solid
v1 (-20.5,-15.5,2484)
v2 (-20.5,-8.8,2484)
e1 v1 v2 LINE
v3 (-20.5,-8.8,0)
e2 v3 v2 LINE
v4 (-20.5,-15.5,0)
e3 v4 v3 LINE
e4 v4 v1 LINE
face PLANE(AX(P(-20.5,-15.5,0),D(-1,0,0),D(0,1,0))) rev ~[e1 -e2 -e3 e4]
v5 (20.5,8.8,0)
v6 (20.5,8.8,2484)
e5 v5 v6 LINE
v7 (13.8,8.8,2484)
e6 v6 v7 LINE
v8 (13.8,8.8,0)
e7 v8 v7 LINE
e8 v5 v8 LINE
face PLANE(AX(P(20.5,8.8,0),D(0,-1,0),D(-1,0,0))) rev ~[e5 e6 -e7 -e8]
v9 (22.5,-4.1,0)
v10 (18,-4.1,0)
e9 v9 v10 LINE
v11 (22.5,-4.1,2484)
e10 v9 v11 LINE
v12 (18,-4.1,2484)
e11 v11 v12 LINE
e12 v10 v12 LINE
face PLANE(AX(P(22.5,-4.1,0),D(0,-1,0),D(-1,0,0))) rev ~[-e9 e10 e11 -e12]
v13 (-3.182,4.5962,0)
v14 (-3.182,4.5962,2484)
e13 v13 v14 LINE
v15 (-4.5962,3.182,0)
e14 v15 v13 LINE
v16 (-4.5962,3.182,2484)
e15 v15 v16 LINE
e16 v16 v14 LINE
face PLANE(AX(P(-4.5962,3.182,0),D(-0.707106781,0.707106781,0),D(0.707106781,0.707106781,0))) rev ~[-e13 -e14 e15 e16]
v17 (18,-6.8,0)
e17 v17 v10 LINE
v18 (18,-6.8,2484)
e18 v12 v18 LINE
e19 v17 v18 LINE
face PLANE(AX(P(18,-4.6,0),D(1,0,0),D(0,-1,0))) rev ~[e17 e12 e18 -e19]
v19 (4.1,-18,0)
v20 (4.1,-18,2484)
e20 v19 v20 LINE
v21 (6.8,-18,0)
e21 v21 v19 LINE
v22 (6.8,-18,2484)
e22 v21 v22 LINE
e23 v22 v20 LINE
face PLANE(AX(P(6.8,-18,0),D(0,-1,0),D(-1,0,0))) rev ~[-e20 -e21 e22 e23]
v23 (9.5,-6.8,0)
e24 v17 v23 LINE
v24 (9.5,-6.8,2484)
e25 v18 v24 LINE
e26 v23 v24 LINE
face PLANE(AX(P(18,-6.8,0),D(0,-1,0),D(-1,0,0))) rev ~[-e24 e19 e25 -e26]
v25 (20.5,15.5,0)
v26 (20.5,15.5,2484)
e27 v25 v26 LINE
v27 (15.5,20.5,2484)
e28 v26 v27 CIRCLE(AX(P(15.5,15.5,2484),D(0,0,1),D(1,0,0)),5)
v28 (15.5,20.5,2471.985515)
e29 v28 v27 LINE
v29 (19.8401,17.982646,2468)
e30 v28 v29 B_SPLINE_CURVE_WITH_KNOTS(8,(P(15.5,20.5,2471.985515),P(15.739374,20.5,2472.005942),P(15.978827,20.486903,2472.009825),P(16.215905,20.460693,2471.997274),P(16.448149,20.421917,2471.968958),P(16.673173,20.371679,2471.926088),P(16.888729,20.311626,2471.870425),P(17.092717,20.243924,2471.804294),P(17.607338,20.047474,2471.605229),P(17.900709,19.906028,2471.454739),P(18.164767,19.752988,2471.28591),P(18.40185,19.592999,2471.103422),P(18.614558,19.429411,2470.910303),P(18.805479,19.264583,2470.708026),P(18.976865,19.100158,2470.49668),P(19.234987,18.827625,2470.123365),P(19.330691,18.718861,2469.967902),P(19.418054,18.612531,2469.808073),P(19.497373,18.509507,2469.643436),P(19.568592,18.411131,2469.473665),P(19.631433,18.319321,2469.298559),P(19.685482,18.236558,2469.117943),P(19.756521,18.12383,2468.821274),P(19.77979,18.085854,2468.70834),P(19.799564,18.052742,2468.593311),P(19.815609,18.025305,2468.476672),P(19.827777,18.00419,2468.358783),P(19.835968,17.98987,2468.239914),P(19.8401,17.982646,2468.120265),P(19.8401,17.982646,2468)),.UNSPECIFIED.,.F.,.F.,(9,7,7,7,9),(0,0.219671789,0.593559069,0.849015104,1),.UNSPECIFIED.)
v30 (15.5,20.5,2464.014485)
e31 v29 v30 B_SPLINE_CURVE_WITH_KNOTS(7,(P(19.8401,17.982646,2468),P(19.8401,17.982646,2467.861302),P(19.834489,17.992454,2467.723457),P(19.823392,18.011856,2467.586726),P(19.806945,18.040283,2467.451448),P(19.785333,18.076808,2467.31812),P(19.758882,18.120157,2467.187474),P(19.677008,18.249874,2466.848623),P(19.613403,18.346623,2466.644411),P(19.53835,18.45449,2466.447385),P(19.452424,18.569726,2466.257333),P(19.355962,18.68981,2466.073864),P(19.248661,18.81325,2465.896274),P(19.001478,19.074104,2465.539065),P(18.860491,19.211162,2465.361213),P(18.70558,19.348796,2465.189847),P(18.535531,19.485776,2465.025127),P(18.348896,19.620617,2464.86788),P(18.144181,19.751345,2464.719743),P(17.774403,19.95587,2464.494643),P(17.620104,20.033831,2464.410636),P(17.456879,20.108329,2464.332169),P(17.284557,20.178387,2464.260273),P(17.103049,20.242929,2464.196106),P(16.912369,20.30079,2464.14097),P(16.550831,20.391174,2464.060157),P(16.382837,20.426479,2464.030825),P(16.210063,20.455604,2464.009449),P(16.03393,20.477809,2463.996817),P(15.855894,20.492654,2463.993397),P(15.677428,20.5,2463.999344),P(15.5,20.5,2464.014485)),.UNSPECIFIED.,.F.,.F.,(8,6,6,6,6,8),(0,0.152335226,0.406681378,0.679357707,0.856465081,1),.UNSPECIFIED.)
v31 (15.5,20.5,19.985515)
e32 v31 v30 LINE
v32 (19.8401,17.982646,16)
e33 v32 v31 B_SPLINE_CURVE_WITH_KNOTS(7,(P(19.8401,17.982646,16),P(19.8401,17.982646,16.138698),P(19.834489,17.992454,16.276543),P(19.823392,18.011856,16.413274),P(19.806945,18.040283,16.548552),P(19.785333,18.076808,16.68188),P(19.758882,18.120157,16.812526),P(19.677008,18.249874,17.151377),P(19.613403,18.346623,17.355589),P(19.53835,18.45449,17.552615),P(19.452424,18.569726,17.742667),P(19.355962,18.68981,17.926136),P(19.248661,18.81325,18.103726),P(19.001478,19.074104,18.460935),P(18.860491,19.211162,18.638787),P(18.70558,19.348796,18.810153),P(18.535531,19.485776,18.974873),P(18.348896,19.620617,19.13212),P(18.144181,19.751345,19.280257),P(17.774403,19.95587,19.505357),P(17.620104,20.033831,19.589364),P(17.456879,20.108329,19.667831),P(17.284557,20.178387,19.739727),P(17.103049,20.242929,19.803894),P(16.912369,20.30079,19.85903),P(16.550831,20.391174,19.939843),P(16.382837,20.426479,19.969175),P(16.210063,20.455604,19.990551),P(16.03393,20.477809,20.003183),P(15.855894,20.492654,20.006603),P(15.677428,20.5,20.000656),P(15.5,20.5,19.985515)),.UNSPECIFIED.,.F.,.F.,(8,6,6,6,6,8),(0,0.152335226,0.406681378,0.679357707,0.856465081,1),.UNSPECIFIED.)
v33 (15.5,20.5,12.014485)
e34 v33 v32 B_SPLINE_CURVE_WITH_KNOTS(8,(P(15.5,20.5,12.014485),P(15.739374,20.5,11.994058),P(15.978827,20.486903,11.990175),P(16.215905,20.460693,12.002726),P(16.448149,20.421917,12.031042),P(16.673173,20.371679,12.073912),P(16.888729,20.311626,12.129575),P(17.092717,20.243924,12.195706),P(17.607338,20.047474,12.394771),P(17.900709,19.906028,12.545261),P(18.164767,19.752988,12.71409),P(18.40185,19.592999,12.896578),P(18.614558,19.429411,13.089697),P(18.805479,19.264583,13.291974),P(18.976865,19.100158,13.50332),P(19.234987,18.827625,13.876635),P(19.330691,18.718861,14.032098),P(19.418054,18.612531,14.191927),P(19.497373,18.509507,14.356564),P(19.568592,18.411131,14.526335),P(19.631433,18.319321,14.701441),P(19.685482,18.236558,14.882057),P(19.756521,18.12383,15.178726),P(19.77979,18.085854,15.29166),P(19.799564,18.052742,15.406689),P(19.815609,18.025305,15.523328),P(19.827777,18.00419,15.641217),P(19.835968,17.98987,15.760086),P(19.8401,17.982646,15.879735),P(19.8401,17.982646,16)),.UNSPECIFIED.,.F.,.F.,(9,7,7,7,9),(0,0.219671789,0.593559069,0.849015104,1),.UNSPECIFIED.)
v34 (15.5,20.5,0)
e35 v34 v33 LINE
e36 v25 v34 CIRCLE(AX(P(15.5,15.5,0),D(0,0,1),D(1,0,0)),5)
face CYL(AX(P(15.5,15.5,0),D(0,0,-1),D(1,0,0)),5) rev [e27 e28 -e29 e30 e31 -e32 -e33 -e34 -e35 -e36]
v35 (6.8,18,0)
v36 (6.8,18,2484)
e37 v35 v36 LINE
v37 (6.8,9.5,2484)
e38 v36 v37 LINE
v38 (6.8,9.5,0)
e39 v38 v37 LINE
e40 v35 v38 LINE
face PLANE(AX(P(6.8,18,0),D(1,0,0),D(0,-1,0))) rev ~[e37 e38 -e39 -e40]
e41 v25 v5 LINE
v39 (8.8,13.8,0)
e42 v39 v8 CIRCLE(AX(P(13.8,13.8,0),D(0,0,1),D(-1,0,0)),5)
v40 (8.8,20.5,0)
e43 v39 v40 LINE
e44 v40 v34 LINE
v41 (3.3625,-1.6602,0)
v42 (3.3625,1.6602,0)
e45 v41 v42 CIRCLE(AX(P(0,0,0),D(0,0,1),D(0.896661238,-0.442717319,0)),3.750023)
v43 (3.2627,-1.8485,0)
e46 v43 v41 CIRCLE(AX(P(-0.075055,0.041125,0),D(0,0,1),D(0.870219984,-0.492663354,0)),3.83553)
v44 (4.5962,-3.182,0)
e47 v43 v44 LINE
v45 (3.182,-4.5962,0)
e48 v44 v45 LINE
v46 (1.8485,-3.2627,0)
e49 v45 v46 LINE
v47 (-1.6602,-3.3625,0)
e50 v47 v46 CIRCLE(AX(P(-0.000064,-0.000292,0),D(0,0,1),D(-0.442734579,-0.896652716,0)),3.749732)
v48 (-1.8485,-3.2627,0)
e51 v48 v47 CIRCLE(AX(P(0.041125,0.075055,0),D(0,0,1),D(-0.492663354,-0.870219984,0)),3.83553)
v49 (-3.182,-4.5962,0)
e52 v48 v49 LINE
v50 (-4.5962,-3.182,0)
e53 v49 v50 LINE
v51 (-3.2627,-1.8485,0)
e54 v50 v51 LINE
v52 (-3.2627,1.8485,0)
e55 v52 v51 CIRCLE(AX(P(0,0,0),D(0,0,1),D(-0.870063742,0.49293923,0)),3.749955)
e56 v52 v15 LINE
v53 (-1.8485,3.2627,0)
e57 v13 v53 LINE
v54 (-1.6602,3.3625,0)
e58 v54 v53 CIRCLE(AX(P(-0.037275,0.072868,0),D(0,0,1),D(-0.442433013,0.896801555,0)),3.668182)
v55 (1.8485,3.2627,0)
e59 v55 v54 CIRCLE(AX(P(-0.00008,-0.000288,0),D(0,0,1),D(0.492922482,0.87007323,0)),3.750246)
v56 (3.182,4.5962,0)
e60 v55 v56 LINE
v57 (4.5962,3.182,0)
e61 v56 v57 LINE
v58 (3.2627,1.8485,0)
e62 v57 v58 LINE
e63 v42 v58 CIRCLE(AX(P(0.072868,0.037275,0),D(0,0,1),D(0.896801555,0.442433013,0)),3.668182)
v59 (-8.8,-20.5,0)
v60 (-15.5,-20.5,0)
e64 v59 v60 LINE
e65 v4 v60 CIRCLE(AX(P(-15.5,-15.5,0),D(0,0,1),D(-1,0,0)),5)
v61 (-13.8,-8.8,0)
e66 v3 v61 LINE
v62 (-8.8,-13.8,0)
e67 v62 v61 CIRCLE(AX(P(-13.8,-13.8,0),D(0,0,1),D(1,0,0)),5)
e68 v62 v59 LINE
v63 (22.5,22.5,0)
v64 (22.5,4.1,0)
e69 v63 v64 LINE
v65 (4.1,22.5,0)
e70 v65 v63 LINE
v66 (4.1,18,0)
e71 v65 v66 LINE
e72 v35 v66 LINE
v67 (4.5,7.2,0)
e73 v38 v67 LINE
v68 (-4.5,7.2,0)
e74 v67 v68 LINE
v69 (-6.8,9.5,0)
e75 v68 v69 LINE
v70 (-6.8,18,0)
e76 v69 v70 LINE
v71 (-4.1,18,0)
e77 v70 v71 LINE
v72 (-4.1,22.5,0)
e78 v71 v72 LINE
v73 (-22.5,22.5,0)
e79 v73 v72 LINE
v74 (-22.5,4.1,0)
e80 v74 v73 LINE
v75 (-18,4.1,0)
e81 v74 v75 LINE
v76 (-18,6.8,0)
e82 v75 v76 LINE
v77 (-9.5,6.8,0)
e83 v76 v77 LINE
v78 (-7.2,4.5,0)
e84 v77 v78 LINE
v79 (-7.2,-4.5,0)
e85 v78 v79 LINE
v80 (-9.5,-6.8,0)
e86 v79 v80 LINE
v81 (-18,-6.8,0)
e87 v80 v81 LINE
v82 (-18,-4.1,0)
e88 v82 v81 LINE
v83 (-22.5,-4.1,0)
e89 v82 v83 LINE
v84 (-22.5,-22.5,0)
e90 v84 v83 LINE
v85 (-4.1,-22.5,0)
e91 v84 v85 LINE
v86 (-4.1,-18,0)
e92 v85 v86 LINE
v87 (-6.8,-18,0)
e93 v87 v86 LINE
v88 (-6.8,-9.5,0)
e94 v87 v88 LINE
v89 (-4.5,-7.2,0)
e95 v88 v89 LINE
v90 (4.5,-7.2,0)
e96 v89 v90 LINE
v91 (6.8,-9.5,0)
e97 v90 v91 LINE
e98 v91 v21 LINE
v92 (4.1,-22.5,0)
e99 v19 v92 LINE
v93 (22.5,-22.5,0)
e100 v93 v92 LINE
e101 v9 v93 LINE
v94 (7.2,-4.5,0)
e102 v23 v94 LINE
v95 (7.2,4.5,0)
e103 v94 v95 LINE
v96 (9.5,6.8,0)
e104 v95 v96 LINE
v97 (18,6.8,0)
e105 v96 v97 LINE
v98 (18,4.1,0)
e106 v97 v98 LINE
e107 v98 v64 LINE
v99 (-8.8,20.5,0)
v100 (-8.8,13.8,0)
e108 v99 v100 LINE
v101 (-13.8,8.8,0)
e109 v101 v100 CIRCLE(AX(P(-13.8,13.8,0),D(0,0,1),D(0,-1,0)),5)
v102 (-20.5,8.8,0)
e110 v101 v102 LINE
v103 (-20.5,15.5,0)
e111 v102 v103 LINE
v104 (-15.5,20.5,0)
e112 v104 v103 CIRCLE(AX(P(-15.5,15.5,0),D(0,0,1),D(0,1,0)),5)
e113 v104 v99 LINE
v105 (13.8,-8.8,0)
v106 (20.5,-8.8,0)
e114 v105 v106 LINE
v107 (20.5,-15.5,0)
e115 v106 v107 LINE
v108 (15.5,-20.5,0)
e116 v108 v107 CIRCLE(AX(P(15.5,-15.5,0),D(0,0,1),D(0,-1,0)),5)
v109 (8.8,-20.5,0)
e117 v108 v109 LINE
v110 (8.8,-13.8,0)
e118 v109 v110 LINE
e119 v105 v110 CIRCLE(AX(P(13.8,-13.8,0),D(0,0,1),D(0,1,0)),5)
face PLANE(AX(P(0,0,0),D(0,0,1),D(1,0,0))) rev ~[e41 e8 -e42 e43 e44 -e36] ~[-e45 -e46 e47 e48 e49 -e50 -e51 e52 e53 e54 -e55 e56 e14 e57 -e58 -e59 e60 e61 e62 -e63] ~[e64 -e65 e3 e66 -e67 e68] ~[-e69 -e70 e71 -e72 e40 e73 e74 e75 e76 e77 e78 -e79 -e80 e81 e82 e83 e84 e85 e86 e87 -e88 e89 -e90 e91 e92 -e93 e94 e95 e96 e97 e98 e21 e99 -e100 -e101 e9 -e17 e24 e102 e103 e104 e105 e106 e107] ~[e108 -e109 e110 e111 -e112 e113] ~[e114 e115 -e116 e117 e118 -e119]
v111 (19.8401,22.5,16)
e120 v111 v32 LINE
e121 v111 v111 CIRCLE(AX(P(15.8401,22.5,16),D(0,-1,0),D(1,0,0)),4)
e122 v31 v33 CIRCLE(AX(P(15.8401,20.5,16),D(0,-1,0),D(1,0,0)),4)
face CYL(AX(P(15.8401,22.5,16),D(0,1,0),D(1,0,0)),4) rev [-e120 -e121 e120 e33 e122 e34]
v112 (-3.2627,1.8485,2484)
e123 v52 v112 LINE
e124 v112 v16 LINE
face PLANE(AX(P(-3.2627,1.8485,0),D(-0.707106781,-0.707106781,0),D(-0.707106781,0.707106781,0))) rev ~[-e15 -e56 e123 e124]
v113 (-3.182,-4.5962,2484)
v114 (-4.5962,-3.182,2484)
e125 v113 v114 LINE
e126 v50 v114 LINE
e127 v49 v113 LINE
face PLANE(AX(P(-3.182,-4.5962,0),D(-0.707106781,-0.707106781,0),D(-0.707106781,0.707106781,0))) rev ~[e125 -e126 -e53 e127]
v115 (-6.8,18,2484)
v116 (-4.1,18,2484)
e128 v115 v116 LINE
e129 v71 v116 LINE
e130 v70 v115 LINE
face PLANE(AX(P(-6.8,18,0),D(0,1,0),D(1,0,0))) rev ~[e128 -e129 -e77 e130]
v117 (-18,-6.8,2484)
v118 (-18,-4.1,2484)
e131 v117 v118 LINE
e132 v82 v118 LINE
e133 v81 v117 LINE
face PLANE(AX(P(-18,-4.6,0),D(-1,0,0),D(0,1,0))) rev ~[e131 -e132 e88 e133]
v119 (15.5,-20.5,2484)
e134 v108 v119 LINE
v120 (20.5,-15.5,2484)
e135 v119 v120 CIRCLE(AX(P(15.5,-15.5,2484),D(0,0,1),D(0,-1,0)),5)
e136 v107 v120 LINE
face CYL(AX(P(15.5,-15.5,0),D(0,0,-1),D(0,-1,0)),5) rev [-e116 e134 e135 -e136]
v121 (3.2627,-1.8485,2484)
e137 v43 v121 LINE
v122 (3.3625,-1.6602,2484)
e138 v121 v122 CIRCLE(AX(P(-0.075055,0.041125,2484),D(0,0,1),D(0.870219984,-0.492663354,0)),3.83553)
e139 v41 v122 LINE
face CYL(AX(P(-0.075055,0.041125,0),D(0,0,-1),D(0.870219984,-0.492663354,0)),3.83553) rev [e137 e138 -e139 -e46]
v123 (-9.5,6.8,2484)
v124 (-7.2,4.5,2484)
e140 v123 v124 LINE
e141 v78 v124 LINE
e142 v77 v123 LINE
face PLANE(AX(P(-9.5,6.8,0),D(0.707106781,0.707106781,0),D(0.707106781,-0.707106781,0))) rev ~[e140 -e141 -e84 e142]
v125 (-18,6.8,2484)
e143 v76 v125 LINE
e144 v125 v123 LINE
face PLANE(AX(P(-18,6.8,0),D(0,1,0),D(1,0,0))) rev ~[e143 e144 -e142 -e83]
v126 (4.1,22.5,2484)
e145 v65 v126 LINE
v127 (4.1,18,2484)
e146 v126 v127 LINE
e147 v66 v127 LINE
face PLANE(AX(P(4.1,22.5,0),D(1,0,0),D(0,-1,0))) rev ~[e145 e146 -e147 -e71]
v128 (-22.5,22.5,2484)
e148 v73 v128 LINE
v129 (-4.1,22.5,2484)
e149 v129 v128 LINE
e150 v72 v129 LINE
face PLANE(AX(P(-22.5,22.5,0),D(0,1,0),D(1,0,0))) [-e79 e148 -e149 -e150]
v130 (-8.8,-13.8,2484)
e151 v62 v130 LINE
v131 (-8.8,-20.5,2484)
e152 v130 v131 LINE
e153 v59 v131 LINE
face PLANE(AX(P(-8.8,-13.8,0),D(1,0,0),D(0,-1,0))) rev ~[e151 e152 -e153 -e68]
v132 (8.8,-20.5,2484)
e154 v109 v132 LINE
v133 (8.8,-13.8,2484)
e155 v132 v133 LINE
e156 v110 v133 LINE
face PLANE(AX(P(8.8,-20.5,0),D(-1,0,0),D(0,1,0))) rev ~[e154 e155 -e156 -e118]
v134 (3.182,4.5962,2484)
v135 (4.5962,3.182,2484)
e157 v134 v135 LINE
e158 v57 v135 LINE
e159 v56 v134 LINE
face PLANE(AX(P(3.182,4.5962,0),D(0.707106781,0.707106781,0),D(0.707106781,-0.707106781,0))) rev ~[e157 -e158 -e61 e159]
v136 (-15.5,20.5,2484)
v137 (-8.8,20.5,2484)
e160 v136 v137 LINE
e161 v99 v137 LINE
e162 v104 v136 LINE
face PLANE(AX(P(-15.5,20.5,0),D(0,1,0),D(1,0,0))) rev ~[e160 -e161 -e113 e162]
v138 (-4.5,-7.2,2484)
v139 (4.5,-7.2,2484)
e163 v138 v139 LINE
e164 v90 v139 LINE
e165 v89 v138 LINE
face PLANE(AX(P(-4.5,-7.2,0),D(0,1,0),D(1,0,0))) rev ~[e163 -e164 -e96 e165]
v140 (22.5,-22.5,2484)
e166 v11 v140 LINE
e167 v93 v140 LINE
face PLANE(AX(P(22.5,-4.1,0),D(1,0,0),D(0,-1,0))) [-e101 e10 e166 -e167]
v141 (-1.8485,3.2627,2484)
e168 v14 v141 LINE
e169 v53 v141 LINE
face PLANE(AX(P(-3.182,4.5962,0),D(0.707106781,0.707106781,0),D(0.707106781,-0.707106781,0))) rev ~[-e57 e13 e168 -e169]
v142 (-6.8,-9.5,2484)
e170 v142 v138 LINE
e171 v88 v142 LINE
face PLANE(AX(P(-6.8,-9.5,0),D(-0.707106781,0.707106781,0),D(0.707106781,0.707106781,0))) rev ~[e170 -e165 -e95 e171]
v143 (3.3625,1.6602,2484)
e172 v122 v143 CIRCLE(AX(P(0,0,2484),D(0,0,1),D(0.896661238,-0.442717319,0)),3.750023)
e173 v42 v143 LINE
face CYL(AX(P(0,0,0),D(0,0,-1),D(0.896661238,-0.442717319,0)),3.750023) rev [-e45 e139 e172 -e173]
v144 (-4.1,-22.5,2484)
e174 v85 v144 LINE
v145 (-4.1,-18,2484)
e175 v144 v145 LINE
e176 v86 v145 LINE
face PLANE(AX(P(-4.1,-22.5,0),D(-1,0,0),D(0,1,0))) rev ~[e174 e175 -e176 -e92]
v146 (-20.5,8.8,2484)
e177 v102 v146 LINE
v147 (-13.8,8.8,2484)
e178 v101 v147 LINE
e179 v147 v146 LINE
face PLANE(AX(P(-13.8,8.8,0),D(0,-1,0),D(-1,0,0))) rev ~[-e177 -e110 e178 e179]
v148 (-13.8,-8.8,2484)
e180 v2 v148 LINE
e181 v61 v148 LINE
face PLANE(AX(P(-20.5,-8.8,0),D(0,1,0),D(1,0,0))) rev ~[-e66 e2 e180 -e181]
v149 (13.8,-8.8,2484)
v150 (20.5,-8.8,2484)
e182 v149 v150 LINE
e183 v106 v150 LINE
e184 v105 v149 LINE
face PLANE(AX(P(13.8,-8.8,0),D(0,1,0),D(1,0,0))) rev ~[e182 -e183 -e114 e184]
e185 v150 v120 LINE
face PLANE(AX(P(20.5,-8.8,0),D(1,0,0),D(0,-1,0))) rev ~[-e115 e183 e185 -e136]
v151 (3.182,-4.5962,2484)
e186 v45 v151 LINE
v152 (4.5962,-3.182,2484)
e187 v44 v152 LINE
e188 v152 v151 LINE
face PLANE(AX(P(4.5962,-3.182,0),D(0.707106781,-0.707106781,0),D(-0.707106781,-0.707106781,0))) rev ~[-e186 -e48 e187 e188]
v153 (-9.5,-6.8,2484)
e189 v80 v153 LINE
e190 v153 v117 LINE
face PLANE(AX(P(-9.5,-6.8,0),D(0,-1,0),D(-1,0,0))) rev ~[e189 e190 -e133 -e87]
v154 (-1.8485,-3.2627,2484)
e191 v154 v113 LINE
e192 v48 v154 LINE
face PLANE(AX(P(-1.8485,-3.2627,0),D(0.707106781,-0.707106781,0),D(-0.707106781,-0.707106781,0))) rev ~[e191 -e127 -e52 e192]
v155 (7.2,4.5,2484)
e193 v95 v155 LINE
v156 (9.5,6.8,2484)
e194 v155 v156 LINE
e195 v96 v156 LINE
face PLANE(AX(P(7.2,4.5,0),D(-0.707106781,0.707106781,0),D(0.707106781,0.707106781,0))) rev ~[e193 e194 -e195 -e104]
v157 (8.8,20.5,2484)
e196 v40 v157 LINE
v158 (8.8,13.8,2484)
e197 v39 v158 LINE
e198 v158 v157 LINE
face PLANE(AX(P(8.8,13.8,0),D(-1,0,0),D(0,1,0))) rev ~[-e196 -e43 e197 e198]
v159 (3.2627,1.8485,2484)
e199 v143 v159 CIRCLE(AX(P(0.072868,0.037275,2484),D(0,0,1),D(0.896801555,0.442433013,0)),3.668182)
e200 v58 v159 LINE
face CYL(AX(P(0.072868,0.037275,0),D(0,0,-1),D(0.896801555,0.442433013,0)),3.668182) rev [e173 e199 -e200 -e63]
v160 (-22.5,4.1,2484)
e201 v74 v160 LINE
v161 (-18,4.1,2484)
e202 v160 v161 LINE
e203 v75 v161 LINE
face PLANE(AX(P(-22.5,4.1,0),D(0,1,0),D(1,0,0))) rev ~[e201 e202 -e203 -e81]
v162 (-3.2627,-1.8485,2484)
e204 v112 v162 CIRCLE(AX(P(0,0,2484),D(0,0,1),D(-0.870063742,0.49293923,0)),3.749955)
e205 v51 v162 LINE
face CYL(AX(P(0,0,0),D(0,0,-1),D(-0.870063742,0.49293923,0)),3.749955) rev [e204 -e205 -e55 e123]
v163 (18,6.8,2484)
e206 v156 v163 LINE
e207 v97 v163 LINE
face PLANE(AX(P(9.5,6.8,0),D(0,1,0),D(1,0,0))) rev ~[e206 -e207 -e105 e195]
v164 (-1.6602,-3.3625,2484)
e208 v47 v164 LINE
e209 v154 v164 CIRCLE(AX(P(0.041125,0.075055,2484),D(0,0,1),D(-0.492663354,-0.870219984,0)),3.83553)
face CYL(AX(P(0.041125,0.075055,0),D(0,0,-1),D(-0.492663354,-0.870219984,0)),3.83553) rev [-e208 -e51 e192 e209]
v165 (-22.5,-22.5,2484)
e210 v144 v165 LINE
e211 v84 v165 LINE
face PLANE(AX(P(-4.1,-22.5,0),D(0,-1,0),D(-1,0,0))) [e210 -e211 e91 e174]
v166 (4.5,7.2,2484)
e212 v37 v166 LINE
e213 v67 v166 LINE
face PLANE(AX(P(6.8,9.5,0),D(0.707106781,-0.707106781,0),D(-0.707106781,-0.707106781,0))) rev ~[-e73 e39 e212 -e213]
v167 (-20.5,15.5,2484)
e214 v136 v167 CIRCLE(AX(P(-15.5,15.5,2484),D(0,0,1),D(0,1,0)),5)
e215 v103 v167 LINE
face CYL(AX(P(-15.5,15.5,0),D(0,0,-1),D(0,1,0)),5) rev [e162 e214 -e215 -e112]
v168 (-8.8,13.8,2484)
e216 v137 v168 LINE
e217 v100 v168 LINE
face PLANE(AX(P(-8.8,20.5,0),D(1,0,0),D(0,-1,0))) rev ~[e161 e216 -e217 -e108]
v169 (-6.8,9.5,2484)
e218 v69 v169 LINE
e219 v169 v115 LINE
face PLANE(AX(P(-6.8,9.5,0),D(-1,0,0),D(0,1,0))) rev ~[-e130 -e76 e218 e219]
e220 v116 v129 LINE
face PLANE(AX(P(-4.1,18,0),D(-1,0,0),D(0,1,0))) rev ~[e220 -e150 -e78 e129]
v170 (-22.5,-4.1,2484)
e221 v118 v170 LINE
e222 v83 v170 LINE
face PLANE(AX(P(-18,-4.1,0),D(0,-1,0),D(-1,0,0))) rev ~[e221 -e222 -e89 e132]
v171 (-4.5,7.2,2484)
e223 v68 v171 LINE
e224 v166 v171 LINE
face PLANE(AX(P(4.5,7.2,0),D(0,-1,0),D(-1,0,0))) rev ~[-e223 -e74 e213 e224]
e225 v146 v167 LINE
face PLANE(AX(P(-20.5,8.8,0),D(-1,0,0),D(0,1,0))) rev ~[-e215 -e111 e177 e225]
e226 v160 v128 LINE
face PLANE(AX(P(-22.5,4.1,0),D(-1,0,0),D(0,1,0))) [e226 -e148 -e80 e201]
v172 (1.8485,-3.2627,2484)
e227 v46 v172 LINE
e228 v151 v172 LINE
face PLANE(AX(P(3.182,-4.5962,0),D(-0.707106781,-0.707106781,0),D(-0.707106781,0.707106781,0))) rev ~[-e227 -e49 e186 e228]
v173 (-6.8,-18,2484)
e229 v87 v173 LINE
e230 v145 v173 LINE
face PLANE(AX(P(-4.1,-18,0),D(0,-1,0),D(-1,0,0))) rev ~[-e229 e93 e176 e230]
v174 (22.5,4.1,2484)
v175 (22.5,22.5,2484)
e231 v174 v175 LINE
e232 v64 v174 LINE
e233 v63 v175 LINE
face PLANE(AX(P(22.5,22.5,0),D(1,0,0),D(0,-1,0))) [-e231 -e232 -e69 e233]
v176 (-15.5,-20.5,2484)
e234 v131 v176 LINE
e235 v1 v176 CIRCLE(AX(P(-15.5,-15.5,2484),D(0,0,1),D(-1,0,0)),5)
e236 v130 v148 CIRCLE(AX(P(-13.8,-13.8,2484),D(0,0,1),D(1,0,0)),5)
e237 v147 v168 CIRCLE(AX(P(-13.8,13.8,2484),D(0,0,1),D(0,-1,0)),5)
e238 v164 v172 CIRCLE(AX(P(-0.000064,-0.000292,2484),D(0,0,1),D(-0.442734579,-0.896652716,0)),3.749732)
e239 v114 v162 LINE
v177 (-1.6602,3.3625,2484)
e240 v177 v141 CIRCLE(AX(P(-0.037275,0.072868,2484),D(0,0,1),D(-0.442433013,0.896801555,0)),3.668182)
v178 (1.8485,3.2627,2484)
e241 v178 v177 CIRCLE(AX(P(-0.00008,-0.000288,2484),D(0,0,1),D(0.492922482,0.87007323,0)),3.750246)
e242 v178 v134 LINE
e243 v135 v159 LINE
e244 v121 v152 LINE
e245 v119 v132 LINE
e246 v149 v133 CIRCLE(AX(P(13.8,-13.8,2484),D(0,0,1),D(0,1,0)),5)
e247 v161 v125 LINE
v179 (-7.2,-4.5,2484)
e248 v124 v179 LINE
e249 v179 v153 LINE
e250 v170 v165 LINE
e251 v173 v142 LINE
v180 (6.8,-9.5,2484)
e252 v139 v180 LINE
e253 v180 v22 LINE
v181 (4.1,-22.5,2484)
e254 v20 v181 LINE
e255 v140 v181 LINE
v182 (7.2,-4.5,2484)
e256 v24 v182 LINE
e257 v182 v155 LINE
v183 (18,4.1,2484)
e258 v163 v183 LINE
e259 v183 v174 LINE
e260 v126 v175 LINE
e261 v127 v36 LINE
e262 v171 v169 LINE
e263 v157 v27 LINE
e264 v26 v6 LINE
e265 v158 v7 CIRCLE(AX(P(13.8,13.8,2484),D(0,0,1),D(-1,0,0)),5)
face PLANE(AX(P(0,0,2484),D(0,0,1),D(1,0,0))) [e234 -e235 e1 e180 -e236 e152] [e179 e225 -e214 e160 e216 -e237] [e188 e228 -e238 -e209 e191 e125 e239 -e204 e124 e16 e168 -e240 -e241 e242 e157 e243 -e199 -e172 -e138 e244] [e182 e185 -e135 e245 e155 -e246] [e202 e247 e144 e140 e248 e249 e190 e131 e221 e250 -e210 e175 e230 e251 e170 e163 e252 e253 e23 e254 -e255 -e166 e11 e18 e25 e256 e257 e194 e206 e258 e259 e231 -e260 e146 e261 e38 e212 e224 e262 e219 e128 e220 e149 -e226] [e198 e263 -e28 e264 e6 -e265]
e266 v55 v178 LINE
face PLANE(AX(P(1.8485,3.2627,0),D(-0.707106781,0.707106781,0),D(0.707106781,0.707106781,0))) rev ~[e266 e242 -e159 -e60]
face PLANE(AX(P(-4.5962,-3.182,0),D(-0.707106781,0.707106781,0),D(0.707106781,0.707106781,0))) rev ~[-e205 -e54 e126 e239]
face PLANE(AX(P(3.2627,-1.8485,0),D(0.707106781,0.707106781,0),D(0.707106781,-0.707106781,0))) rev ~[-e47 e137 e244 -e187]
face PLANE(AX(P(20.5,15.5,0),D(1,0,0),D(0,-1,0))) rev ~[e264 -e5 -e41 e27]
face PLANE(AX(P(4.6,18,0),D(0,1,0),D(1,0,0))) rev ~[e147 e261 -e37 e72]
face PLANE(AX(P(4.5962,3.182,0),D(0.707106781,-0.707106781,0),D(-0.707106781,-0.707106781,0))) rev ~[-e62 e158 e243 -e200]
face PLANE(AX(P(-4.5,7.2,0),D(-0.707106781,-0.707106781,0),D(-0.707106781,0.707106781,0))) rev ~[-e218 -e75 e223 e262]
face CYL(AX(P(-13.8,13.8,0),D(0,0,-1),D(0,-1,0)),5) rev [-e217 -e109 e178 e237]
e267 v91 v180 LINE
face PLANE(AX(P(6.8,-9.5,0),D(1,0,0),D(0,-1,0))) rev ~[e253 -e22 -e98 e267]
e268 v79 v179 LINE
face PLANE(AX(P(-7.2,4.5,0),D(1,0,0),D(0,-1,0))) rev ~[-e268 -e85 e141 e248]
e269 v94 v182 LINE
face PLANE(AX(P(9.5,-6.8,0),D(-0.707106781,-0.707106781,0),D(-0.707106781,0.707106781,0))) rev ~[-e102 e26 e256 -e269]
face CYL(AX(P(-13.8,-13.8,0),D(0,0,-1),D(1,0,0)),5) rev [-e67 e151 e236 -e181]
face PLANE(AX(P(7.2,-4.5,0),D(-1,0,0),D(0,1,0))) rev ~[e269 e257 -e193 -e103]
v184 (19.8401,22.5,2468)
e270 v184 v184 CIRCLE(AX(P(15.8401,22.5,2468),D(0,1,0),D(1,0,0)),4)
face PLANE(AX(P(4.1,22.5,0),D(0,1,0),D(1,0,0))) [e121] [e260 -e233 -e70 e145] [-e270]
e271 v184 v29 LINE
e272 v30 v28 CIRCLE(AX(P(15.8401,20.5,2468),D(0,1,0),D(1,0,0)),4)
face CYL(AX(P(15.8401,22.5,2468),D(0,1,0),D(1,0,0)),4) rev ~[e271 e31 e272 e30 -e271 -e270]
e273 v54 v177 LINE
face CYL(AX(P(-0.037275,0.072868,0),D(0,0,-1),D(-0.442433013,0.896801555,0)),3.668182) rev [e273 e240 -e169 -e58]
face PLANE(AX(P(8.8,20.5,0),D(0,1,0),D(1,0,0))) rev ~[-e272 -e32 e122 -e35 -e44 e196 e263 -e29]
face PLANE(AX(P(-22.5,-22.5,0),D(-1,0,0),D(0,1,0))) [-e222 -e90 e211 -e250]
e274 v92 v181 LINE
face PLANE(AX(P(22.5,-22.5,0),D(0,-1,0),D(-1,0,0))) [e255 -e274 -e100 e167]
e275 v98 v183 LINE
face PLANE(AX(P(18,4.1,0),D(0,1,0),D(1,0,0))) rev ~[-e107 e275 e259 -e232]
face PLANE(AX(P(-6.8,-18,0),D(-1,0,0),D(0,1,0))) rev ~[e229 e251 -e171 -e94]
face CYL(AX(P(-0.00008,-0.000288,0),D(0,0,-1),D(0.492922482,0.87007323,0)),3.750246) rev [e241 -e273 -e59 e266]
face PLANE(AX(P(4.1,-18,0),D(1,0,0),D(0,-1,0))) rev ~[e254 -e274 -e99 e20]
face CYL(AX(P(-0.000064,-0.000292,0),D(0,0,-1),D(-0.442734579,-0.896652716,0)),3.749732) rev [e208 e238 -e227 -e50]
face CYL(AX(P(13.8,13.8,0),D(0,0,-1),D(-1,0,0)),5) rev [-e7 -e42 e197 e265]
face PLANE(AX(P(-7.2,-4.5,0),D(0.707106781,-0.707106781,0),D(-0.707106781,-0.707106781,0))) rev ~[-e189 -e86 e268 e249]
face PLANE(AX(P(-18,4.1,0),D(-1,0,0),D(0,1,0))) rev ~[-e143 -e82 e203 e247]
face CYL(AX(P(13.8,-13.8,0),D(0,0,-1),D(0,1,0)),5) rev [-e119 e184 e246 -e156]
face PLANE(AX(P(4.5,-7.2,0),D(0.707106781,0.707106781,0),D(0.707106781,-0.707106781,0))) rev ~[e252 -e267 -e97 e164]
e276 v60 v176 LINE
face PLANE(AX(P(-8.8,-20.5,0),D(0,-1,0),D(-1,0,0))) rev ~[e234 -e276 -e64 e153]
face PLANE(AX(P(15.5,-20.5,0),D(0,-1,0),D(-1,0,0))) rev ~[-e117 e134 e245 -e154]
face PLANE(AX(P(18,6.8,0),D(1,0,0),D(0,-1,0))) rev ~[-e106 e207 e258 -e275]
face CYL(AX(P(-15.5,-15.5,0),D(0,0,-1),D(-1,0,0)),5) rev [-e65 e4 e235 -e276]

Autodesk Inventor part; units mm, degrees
ref_plane "YZ Plane" through (0, 0, 0) normal (1, 0, 0) x (0, 1, 0)
ref_plane "XZ Plane" through (0, 0, 0) normal (0, 1, 0) x (-1, 0, 0)
ref_plane "XY Plane" through (0, 0, 0) normal (0, 0, 1) x (1, 0, 0)
sketch "Sketch1" plane through (0, 0, 0) normal (0, 0, 1) x (1, 0, 0)
  line L0 (-4.1, -22.5) -> (-4.1, -18)
  line L1 (-4.6, -18) -> (-6.8, -18)
  line L2 (-6.8, -18) -> (-6.8, -9.5)
  line L3 (-6.8, -9.5) -> (-4.5, -7.2)
  line L4 (-4.5, -7.2) -> (4.5, -7.2)
  line L5 (4.5, -7.2) -> (6.8, -9.5)
  line L6 (6.8, -9.5) -> (6.8, -18)
  line L7 (4.1, -18) -> (4.1, -22.5)
  line L8 (22.5, -4.1) -> (18, -4.1)
  line L9 (18, -4.6) -> (18, -6.8)
  line L10 (18, -6.8) -> (9.5, -6.8)
  line L11 (9.5, -6.8) -> (7.2, -4.5)
  line L12 (7.2, -4.5) -> (7.2, 4.5)
  line L13 (7.2, 4.5) -> (9.5, 6.8)
  line L14 (9.5, 6.8) -> (18, 6.8)
  line L15 (18, 4.1) -> (22.5, 4.1)
  line L16 (22.5, 22.5) -> (22.5, 4.4)
  line L17 (4.1, 22.5) -> (4.1, 18)
  line L18 (4.6, 18) -> (6.8, 18)
  line L19 (6.8, 18) -> (6.8, 9.5)
  line L20 (6.8, 9.5) -> (4.5, 7.2)
  line L21 (4.5, 7.2) -> (-4.5, 7.2)
  line L22 (-4.5, 7.2) -> (-6.8, 9.5)
  line L23 (-6.8, 9.5) -> (-6.8, 18)
  line L24 (-4.1, 18) -> (-4.1, 22.5)
  line L25 (-22.5, 22.5) -> (-4.4, 22.5)
  line L26 (-22.5, 4.1) -> (-18, 4.1)
  line L27 (-18, 6.8) -> (-9.5, 6.8)
  line L28 (-9.5, 6.8) -> (-7.2, 4.5)
  line L29 (-7.2, 4.5) -> (-7.2, -4.5)
  line L30 (-7.2, -4.5) -> (-9.5, -6.8)
  line L31 (-9.5, -6.8) -> (-18, -6.8)
  line L32 (-18, -6.8) -> (-18, -4.6)
  line L33 (-18, -4.1) -> (-22.5, -4.1)
  line L34 (-22.5, -22.5) -> (-22.5, -4.4)
  line L35 (-4.4, -22.5) -> (-22.5, -22.5)
  line L36 (-4.5962, -3.182) -> (-3.2627, -1.8485)
  line L37 (-3.2627, 1.8485) -> (-4.5962, 3.182)
  line L38 (-4.5962, 3.182) -> (-3.182, 4.5962)
  line L39 (-3.182, 4.5962) -> (-1.8485, 3.2627)
  line L40 (1.8485, 3.2627) -> (3.182, 4.5962)
  line L41 (3.182, 4.5962) -> (4.5962, 3.182)
  line L42 (4.5962, 3.182) -> (3.2627, 1.8485)
  arc A0 (3.3625, -1.6602) -> (3.3625, 1.6602) centre (0, 0) ccw
  line L43 (3.2627, -1.8485) -> (4.5962, -3.182)
  line L44 (4.5962, -3.182) -> (3.182, -4.5962)
  line L45 (3.182, -4.5962) -> (1.8485, -3.2627)
  line L46 (-1.8485, -3.2627) -> (-3.182, -4.5962)
  line L47 (-3.182, -4.5962) -> (-4.5962, -3.182)
  arc A1 (13.8, -8.8) -> (8.8, -13.8) centre (13.8, -13.8) ccw
  line L48 (13.8, -8.8) -> (20.5, -8.8)
  line L49 (20.5, -8.8) -> (20.5, -15.5)
  arc A2 (15.5, -20.5) -> (20.5, -15.5) centre (15.5, -15.5) ccw
  line L50 (15.5, -20.5) -> (8.8, -20.5)
  line L51 (8.8, -20.5) -> (8.8, -13.8)
  arc A3 (8.8, 13.8) -> (13.8, 8.8) centre (13.8, 13.8) ccw
  line L52 (8.8, 13.8) -> (8.8, 20.5)
  line L53 (8.8, 20.5) -> (15.5, 20.5)
  arc A4 (20.5, 15.5) -> (15.5, 20.5) centre (15.5, 15.5) ccw
  line L54 (20.5, 15.5) -> (20.5, 8.8)
  line L55 (20.5, 8.8) -> (13.8, 8.8)
  arc A5 (-13.8, 8.8) -> (-8.8, 13.8) centre (-13.8, 13.8) ccw
  line L56 (-13.8, 8.8) -> (-20.5, 8.8)
  line L57 (-20.5, 8.8) -> (-20.5, 15.5)
  arc A6 (-15.5, 20.5) -> (-20.5, 15.5) centre (-15.5, 15.5) ccw
  line L58 (-15.5, 20.5) -> (-8.8, 20.5)
  line L59 (-8.8, 20.5) -> (-8.8, 13.8)
  arc A7 (-8.8, -13.8) -> (-13.8, -8.8) centre (-13.8, -13.8) ccw
  line L60 (-8.8, -13.8) -> (-8.8, -20.5)
  line L61 (-8.8, -20.5) -> (-15.5, -20.5)
  arc A8 (-20.5, -15.5) -> (-15.5, -20.5) centre (-15.5, -15.5) ccw
  line L62 (-20.5, -15.5) -> (-20.5, -8.8)
  line L63 (-20.5, -8.8) -> (-13.8, -8.8)
  line L64 (-6.8, 18) -> (-4.1, 18)
  line L65 (4.1, 18) -> (4.6, 18)
  line L66 (-4.4, 22.5) -> (-4.1, 22.5)
  line L67 (4.1, 22.5) -> (22.5, 22.5)
  arc A9 (3.3625, 1.6602) -> (3.2627, 1.8485) centre (0, 0) ccw
  arc A10 (1.8485, 3.2627) -> (-1.6602, 3.3625) centre (0, 0) ccw
  arc A11 (-1.6602, 3.3625) -> (-1.8485, 3.2627) centre (0, 0) ccw
  arc A12 (-3.2627, 1.8485) -> (-3.2627, -1.8485) centre (0, 0) ccw
  arc A13 (-1.8485, -3.2627) -> (-1.6602, -3.3625) centre (0, 0) ccw
  arc A14 (-1.6602, -3.3625) -> (1.8485, -3.2627) centre (0, 0) ccw
  arc A15 (3.2627, -1.8485) -> (3.3625, -1.6602) centre (0, 0) ccw
  line L68 (18, 6.8) -> (18, 4.1)
  line L69 (18, -4.1) -> (18, -4.6)
  line L70 (22.5, 4.4) -> (22.5, 4.1)
  line L71 (22.5, -4.1) -> (22.5, -22.5)
  line L72 (6.8, -18) -> (4.1, -18)
  line L73 (-4.1, -18) -> (-4.6, -18)
  line L74 (22.5, -22.5) -> (4.1, -22.5)
  line L75 (-4.1, -22.5) -> (-4.4, -22.5)
  line L76 (-22.5, -4.4) -> (-22.5, -4.1)
  line L77 (-22.5, 4.1) -> (-22.5, 22.5)
  line L78 (-18, -4.6) -> (-18, -4.1)
  line L79 (-18, 4.1) -> (-18, 6.8)
extrude "Extrusion1" add sketch "Sketch1" along normal blind 2484
ref_plane "Work Plane1" through (0, 0, 1242) normal (0, 0, -1) x (-1, 0, 0)
sketch "Sketch5" plane through (-22.5, 22.5, 2484) normal (0, 1, 0) x (1, 0, 0)
  line L0 (45, 2484) -> (45, 0) projected
  line L1 (45, 0) -> (26.6, 0) projected
  circle A0 centre (38.3401, 16) radius 4
  point P0 (22.5, 2484)
  dimension "d19" = 8
  dimension "d20" = 16
extrude "Extrusion5" cut sketch "Sketch5" against normal up to next
mirror "Mirror4" about plane through (0, 0, 1242) normal (0, 0, -1) of "Extrusion5"
properties part number "20.1033.0" material "Aluminum-6061"
